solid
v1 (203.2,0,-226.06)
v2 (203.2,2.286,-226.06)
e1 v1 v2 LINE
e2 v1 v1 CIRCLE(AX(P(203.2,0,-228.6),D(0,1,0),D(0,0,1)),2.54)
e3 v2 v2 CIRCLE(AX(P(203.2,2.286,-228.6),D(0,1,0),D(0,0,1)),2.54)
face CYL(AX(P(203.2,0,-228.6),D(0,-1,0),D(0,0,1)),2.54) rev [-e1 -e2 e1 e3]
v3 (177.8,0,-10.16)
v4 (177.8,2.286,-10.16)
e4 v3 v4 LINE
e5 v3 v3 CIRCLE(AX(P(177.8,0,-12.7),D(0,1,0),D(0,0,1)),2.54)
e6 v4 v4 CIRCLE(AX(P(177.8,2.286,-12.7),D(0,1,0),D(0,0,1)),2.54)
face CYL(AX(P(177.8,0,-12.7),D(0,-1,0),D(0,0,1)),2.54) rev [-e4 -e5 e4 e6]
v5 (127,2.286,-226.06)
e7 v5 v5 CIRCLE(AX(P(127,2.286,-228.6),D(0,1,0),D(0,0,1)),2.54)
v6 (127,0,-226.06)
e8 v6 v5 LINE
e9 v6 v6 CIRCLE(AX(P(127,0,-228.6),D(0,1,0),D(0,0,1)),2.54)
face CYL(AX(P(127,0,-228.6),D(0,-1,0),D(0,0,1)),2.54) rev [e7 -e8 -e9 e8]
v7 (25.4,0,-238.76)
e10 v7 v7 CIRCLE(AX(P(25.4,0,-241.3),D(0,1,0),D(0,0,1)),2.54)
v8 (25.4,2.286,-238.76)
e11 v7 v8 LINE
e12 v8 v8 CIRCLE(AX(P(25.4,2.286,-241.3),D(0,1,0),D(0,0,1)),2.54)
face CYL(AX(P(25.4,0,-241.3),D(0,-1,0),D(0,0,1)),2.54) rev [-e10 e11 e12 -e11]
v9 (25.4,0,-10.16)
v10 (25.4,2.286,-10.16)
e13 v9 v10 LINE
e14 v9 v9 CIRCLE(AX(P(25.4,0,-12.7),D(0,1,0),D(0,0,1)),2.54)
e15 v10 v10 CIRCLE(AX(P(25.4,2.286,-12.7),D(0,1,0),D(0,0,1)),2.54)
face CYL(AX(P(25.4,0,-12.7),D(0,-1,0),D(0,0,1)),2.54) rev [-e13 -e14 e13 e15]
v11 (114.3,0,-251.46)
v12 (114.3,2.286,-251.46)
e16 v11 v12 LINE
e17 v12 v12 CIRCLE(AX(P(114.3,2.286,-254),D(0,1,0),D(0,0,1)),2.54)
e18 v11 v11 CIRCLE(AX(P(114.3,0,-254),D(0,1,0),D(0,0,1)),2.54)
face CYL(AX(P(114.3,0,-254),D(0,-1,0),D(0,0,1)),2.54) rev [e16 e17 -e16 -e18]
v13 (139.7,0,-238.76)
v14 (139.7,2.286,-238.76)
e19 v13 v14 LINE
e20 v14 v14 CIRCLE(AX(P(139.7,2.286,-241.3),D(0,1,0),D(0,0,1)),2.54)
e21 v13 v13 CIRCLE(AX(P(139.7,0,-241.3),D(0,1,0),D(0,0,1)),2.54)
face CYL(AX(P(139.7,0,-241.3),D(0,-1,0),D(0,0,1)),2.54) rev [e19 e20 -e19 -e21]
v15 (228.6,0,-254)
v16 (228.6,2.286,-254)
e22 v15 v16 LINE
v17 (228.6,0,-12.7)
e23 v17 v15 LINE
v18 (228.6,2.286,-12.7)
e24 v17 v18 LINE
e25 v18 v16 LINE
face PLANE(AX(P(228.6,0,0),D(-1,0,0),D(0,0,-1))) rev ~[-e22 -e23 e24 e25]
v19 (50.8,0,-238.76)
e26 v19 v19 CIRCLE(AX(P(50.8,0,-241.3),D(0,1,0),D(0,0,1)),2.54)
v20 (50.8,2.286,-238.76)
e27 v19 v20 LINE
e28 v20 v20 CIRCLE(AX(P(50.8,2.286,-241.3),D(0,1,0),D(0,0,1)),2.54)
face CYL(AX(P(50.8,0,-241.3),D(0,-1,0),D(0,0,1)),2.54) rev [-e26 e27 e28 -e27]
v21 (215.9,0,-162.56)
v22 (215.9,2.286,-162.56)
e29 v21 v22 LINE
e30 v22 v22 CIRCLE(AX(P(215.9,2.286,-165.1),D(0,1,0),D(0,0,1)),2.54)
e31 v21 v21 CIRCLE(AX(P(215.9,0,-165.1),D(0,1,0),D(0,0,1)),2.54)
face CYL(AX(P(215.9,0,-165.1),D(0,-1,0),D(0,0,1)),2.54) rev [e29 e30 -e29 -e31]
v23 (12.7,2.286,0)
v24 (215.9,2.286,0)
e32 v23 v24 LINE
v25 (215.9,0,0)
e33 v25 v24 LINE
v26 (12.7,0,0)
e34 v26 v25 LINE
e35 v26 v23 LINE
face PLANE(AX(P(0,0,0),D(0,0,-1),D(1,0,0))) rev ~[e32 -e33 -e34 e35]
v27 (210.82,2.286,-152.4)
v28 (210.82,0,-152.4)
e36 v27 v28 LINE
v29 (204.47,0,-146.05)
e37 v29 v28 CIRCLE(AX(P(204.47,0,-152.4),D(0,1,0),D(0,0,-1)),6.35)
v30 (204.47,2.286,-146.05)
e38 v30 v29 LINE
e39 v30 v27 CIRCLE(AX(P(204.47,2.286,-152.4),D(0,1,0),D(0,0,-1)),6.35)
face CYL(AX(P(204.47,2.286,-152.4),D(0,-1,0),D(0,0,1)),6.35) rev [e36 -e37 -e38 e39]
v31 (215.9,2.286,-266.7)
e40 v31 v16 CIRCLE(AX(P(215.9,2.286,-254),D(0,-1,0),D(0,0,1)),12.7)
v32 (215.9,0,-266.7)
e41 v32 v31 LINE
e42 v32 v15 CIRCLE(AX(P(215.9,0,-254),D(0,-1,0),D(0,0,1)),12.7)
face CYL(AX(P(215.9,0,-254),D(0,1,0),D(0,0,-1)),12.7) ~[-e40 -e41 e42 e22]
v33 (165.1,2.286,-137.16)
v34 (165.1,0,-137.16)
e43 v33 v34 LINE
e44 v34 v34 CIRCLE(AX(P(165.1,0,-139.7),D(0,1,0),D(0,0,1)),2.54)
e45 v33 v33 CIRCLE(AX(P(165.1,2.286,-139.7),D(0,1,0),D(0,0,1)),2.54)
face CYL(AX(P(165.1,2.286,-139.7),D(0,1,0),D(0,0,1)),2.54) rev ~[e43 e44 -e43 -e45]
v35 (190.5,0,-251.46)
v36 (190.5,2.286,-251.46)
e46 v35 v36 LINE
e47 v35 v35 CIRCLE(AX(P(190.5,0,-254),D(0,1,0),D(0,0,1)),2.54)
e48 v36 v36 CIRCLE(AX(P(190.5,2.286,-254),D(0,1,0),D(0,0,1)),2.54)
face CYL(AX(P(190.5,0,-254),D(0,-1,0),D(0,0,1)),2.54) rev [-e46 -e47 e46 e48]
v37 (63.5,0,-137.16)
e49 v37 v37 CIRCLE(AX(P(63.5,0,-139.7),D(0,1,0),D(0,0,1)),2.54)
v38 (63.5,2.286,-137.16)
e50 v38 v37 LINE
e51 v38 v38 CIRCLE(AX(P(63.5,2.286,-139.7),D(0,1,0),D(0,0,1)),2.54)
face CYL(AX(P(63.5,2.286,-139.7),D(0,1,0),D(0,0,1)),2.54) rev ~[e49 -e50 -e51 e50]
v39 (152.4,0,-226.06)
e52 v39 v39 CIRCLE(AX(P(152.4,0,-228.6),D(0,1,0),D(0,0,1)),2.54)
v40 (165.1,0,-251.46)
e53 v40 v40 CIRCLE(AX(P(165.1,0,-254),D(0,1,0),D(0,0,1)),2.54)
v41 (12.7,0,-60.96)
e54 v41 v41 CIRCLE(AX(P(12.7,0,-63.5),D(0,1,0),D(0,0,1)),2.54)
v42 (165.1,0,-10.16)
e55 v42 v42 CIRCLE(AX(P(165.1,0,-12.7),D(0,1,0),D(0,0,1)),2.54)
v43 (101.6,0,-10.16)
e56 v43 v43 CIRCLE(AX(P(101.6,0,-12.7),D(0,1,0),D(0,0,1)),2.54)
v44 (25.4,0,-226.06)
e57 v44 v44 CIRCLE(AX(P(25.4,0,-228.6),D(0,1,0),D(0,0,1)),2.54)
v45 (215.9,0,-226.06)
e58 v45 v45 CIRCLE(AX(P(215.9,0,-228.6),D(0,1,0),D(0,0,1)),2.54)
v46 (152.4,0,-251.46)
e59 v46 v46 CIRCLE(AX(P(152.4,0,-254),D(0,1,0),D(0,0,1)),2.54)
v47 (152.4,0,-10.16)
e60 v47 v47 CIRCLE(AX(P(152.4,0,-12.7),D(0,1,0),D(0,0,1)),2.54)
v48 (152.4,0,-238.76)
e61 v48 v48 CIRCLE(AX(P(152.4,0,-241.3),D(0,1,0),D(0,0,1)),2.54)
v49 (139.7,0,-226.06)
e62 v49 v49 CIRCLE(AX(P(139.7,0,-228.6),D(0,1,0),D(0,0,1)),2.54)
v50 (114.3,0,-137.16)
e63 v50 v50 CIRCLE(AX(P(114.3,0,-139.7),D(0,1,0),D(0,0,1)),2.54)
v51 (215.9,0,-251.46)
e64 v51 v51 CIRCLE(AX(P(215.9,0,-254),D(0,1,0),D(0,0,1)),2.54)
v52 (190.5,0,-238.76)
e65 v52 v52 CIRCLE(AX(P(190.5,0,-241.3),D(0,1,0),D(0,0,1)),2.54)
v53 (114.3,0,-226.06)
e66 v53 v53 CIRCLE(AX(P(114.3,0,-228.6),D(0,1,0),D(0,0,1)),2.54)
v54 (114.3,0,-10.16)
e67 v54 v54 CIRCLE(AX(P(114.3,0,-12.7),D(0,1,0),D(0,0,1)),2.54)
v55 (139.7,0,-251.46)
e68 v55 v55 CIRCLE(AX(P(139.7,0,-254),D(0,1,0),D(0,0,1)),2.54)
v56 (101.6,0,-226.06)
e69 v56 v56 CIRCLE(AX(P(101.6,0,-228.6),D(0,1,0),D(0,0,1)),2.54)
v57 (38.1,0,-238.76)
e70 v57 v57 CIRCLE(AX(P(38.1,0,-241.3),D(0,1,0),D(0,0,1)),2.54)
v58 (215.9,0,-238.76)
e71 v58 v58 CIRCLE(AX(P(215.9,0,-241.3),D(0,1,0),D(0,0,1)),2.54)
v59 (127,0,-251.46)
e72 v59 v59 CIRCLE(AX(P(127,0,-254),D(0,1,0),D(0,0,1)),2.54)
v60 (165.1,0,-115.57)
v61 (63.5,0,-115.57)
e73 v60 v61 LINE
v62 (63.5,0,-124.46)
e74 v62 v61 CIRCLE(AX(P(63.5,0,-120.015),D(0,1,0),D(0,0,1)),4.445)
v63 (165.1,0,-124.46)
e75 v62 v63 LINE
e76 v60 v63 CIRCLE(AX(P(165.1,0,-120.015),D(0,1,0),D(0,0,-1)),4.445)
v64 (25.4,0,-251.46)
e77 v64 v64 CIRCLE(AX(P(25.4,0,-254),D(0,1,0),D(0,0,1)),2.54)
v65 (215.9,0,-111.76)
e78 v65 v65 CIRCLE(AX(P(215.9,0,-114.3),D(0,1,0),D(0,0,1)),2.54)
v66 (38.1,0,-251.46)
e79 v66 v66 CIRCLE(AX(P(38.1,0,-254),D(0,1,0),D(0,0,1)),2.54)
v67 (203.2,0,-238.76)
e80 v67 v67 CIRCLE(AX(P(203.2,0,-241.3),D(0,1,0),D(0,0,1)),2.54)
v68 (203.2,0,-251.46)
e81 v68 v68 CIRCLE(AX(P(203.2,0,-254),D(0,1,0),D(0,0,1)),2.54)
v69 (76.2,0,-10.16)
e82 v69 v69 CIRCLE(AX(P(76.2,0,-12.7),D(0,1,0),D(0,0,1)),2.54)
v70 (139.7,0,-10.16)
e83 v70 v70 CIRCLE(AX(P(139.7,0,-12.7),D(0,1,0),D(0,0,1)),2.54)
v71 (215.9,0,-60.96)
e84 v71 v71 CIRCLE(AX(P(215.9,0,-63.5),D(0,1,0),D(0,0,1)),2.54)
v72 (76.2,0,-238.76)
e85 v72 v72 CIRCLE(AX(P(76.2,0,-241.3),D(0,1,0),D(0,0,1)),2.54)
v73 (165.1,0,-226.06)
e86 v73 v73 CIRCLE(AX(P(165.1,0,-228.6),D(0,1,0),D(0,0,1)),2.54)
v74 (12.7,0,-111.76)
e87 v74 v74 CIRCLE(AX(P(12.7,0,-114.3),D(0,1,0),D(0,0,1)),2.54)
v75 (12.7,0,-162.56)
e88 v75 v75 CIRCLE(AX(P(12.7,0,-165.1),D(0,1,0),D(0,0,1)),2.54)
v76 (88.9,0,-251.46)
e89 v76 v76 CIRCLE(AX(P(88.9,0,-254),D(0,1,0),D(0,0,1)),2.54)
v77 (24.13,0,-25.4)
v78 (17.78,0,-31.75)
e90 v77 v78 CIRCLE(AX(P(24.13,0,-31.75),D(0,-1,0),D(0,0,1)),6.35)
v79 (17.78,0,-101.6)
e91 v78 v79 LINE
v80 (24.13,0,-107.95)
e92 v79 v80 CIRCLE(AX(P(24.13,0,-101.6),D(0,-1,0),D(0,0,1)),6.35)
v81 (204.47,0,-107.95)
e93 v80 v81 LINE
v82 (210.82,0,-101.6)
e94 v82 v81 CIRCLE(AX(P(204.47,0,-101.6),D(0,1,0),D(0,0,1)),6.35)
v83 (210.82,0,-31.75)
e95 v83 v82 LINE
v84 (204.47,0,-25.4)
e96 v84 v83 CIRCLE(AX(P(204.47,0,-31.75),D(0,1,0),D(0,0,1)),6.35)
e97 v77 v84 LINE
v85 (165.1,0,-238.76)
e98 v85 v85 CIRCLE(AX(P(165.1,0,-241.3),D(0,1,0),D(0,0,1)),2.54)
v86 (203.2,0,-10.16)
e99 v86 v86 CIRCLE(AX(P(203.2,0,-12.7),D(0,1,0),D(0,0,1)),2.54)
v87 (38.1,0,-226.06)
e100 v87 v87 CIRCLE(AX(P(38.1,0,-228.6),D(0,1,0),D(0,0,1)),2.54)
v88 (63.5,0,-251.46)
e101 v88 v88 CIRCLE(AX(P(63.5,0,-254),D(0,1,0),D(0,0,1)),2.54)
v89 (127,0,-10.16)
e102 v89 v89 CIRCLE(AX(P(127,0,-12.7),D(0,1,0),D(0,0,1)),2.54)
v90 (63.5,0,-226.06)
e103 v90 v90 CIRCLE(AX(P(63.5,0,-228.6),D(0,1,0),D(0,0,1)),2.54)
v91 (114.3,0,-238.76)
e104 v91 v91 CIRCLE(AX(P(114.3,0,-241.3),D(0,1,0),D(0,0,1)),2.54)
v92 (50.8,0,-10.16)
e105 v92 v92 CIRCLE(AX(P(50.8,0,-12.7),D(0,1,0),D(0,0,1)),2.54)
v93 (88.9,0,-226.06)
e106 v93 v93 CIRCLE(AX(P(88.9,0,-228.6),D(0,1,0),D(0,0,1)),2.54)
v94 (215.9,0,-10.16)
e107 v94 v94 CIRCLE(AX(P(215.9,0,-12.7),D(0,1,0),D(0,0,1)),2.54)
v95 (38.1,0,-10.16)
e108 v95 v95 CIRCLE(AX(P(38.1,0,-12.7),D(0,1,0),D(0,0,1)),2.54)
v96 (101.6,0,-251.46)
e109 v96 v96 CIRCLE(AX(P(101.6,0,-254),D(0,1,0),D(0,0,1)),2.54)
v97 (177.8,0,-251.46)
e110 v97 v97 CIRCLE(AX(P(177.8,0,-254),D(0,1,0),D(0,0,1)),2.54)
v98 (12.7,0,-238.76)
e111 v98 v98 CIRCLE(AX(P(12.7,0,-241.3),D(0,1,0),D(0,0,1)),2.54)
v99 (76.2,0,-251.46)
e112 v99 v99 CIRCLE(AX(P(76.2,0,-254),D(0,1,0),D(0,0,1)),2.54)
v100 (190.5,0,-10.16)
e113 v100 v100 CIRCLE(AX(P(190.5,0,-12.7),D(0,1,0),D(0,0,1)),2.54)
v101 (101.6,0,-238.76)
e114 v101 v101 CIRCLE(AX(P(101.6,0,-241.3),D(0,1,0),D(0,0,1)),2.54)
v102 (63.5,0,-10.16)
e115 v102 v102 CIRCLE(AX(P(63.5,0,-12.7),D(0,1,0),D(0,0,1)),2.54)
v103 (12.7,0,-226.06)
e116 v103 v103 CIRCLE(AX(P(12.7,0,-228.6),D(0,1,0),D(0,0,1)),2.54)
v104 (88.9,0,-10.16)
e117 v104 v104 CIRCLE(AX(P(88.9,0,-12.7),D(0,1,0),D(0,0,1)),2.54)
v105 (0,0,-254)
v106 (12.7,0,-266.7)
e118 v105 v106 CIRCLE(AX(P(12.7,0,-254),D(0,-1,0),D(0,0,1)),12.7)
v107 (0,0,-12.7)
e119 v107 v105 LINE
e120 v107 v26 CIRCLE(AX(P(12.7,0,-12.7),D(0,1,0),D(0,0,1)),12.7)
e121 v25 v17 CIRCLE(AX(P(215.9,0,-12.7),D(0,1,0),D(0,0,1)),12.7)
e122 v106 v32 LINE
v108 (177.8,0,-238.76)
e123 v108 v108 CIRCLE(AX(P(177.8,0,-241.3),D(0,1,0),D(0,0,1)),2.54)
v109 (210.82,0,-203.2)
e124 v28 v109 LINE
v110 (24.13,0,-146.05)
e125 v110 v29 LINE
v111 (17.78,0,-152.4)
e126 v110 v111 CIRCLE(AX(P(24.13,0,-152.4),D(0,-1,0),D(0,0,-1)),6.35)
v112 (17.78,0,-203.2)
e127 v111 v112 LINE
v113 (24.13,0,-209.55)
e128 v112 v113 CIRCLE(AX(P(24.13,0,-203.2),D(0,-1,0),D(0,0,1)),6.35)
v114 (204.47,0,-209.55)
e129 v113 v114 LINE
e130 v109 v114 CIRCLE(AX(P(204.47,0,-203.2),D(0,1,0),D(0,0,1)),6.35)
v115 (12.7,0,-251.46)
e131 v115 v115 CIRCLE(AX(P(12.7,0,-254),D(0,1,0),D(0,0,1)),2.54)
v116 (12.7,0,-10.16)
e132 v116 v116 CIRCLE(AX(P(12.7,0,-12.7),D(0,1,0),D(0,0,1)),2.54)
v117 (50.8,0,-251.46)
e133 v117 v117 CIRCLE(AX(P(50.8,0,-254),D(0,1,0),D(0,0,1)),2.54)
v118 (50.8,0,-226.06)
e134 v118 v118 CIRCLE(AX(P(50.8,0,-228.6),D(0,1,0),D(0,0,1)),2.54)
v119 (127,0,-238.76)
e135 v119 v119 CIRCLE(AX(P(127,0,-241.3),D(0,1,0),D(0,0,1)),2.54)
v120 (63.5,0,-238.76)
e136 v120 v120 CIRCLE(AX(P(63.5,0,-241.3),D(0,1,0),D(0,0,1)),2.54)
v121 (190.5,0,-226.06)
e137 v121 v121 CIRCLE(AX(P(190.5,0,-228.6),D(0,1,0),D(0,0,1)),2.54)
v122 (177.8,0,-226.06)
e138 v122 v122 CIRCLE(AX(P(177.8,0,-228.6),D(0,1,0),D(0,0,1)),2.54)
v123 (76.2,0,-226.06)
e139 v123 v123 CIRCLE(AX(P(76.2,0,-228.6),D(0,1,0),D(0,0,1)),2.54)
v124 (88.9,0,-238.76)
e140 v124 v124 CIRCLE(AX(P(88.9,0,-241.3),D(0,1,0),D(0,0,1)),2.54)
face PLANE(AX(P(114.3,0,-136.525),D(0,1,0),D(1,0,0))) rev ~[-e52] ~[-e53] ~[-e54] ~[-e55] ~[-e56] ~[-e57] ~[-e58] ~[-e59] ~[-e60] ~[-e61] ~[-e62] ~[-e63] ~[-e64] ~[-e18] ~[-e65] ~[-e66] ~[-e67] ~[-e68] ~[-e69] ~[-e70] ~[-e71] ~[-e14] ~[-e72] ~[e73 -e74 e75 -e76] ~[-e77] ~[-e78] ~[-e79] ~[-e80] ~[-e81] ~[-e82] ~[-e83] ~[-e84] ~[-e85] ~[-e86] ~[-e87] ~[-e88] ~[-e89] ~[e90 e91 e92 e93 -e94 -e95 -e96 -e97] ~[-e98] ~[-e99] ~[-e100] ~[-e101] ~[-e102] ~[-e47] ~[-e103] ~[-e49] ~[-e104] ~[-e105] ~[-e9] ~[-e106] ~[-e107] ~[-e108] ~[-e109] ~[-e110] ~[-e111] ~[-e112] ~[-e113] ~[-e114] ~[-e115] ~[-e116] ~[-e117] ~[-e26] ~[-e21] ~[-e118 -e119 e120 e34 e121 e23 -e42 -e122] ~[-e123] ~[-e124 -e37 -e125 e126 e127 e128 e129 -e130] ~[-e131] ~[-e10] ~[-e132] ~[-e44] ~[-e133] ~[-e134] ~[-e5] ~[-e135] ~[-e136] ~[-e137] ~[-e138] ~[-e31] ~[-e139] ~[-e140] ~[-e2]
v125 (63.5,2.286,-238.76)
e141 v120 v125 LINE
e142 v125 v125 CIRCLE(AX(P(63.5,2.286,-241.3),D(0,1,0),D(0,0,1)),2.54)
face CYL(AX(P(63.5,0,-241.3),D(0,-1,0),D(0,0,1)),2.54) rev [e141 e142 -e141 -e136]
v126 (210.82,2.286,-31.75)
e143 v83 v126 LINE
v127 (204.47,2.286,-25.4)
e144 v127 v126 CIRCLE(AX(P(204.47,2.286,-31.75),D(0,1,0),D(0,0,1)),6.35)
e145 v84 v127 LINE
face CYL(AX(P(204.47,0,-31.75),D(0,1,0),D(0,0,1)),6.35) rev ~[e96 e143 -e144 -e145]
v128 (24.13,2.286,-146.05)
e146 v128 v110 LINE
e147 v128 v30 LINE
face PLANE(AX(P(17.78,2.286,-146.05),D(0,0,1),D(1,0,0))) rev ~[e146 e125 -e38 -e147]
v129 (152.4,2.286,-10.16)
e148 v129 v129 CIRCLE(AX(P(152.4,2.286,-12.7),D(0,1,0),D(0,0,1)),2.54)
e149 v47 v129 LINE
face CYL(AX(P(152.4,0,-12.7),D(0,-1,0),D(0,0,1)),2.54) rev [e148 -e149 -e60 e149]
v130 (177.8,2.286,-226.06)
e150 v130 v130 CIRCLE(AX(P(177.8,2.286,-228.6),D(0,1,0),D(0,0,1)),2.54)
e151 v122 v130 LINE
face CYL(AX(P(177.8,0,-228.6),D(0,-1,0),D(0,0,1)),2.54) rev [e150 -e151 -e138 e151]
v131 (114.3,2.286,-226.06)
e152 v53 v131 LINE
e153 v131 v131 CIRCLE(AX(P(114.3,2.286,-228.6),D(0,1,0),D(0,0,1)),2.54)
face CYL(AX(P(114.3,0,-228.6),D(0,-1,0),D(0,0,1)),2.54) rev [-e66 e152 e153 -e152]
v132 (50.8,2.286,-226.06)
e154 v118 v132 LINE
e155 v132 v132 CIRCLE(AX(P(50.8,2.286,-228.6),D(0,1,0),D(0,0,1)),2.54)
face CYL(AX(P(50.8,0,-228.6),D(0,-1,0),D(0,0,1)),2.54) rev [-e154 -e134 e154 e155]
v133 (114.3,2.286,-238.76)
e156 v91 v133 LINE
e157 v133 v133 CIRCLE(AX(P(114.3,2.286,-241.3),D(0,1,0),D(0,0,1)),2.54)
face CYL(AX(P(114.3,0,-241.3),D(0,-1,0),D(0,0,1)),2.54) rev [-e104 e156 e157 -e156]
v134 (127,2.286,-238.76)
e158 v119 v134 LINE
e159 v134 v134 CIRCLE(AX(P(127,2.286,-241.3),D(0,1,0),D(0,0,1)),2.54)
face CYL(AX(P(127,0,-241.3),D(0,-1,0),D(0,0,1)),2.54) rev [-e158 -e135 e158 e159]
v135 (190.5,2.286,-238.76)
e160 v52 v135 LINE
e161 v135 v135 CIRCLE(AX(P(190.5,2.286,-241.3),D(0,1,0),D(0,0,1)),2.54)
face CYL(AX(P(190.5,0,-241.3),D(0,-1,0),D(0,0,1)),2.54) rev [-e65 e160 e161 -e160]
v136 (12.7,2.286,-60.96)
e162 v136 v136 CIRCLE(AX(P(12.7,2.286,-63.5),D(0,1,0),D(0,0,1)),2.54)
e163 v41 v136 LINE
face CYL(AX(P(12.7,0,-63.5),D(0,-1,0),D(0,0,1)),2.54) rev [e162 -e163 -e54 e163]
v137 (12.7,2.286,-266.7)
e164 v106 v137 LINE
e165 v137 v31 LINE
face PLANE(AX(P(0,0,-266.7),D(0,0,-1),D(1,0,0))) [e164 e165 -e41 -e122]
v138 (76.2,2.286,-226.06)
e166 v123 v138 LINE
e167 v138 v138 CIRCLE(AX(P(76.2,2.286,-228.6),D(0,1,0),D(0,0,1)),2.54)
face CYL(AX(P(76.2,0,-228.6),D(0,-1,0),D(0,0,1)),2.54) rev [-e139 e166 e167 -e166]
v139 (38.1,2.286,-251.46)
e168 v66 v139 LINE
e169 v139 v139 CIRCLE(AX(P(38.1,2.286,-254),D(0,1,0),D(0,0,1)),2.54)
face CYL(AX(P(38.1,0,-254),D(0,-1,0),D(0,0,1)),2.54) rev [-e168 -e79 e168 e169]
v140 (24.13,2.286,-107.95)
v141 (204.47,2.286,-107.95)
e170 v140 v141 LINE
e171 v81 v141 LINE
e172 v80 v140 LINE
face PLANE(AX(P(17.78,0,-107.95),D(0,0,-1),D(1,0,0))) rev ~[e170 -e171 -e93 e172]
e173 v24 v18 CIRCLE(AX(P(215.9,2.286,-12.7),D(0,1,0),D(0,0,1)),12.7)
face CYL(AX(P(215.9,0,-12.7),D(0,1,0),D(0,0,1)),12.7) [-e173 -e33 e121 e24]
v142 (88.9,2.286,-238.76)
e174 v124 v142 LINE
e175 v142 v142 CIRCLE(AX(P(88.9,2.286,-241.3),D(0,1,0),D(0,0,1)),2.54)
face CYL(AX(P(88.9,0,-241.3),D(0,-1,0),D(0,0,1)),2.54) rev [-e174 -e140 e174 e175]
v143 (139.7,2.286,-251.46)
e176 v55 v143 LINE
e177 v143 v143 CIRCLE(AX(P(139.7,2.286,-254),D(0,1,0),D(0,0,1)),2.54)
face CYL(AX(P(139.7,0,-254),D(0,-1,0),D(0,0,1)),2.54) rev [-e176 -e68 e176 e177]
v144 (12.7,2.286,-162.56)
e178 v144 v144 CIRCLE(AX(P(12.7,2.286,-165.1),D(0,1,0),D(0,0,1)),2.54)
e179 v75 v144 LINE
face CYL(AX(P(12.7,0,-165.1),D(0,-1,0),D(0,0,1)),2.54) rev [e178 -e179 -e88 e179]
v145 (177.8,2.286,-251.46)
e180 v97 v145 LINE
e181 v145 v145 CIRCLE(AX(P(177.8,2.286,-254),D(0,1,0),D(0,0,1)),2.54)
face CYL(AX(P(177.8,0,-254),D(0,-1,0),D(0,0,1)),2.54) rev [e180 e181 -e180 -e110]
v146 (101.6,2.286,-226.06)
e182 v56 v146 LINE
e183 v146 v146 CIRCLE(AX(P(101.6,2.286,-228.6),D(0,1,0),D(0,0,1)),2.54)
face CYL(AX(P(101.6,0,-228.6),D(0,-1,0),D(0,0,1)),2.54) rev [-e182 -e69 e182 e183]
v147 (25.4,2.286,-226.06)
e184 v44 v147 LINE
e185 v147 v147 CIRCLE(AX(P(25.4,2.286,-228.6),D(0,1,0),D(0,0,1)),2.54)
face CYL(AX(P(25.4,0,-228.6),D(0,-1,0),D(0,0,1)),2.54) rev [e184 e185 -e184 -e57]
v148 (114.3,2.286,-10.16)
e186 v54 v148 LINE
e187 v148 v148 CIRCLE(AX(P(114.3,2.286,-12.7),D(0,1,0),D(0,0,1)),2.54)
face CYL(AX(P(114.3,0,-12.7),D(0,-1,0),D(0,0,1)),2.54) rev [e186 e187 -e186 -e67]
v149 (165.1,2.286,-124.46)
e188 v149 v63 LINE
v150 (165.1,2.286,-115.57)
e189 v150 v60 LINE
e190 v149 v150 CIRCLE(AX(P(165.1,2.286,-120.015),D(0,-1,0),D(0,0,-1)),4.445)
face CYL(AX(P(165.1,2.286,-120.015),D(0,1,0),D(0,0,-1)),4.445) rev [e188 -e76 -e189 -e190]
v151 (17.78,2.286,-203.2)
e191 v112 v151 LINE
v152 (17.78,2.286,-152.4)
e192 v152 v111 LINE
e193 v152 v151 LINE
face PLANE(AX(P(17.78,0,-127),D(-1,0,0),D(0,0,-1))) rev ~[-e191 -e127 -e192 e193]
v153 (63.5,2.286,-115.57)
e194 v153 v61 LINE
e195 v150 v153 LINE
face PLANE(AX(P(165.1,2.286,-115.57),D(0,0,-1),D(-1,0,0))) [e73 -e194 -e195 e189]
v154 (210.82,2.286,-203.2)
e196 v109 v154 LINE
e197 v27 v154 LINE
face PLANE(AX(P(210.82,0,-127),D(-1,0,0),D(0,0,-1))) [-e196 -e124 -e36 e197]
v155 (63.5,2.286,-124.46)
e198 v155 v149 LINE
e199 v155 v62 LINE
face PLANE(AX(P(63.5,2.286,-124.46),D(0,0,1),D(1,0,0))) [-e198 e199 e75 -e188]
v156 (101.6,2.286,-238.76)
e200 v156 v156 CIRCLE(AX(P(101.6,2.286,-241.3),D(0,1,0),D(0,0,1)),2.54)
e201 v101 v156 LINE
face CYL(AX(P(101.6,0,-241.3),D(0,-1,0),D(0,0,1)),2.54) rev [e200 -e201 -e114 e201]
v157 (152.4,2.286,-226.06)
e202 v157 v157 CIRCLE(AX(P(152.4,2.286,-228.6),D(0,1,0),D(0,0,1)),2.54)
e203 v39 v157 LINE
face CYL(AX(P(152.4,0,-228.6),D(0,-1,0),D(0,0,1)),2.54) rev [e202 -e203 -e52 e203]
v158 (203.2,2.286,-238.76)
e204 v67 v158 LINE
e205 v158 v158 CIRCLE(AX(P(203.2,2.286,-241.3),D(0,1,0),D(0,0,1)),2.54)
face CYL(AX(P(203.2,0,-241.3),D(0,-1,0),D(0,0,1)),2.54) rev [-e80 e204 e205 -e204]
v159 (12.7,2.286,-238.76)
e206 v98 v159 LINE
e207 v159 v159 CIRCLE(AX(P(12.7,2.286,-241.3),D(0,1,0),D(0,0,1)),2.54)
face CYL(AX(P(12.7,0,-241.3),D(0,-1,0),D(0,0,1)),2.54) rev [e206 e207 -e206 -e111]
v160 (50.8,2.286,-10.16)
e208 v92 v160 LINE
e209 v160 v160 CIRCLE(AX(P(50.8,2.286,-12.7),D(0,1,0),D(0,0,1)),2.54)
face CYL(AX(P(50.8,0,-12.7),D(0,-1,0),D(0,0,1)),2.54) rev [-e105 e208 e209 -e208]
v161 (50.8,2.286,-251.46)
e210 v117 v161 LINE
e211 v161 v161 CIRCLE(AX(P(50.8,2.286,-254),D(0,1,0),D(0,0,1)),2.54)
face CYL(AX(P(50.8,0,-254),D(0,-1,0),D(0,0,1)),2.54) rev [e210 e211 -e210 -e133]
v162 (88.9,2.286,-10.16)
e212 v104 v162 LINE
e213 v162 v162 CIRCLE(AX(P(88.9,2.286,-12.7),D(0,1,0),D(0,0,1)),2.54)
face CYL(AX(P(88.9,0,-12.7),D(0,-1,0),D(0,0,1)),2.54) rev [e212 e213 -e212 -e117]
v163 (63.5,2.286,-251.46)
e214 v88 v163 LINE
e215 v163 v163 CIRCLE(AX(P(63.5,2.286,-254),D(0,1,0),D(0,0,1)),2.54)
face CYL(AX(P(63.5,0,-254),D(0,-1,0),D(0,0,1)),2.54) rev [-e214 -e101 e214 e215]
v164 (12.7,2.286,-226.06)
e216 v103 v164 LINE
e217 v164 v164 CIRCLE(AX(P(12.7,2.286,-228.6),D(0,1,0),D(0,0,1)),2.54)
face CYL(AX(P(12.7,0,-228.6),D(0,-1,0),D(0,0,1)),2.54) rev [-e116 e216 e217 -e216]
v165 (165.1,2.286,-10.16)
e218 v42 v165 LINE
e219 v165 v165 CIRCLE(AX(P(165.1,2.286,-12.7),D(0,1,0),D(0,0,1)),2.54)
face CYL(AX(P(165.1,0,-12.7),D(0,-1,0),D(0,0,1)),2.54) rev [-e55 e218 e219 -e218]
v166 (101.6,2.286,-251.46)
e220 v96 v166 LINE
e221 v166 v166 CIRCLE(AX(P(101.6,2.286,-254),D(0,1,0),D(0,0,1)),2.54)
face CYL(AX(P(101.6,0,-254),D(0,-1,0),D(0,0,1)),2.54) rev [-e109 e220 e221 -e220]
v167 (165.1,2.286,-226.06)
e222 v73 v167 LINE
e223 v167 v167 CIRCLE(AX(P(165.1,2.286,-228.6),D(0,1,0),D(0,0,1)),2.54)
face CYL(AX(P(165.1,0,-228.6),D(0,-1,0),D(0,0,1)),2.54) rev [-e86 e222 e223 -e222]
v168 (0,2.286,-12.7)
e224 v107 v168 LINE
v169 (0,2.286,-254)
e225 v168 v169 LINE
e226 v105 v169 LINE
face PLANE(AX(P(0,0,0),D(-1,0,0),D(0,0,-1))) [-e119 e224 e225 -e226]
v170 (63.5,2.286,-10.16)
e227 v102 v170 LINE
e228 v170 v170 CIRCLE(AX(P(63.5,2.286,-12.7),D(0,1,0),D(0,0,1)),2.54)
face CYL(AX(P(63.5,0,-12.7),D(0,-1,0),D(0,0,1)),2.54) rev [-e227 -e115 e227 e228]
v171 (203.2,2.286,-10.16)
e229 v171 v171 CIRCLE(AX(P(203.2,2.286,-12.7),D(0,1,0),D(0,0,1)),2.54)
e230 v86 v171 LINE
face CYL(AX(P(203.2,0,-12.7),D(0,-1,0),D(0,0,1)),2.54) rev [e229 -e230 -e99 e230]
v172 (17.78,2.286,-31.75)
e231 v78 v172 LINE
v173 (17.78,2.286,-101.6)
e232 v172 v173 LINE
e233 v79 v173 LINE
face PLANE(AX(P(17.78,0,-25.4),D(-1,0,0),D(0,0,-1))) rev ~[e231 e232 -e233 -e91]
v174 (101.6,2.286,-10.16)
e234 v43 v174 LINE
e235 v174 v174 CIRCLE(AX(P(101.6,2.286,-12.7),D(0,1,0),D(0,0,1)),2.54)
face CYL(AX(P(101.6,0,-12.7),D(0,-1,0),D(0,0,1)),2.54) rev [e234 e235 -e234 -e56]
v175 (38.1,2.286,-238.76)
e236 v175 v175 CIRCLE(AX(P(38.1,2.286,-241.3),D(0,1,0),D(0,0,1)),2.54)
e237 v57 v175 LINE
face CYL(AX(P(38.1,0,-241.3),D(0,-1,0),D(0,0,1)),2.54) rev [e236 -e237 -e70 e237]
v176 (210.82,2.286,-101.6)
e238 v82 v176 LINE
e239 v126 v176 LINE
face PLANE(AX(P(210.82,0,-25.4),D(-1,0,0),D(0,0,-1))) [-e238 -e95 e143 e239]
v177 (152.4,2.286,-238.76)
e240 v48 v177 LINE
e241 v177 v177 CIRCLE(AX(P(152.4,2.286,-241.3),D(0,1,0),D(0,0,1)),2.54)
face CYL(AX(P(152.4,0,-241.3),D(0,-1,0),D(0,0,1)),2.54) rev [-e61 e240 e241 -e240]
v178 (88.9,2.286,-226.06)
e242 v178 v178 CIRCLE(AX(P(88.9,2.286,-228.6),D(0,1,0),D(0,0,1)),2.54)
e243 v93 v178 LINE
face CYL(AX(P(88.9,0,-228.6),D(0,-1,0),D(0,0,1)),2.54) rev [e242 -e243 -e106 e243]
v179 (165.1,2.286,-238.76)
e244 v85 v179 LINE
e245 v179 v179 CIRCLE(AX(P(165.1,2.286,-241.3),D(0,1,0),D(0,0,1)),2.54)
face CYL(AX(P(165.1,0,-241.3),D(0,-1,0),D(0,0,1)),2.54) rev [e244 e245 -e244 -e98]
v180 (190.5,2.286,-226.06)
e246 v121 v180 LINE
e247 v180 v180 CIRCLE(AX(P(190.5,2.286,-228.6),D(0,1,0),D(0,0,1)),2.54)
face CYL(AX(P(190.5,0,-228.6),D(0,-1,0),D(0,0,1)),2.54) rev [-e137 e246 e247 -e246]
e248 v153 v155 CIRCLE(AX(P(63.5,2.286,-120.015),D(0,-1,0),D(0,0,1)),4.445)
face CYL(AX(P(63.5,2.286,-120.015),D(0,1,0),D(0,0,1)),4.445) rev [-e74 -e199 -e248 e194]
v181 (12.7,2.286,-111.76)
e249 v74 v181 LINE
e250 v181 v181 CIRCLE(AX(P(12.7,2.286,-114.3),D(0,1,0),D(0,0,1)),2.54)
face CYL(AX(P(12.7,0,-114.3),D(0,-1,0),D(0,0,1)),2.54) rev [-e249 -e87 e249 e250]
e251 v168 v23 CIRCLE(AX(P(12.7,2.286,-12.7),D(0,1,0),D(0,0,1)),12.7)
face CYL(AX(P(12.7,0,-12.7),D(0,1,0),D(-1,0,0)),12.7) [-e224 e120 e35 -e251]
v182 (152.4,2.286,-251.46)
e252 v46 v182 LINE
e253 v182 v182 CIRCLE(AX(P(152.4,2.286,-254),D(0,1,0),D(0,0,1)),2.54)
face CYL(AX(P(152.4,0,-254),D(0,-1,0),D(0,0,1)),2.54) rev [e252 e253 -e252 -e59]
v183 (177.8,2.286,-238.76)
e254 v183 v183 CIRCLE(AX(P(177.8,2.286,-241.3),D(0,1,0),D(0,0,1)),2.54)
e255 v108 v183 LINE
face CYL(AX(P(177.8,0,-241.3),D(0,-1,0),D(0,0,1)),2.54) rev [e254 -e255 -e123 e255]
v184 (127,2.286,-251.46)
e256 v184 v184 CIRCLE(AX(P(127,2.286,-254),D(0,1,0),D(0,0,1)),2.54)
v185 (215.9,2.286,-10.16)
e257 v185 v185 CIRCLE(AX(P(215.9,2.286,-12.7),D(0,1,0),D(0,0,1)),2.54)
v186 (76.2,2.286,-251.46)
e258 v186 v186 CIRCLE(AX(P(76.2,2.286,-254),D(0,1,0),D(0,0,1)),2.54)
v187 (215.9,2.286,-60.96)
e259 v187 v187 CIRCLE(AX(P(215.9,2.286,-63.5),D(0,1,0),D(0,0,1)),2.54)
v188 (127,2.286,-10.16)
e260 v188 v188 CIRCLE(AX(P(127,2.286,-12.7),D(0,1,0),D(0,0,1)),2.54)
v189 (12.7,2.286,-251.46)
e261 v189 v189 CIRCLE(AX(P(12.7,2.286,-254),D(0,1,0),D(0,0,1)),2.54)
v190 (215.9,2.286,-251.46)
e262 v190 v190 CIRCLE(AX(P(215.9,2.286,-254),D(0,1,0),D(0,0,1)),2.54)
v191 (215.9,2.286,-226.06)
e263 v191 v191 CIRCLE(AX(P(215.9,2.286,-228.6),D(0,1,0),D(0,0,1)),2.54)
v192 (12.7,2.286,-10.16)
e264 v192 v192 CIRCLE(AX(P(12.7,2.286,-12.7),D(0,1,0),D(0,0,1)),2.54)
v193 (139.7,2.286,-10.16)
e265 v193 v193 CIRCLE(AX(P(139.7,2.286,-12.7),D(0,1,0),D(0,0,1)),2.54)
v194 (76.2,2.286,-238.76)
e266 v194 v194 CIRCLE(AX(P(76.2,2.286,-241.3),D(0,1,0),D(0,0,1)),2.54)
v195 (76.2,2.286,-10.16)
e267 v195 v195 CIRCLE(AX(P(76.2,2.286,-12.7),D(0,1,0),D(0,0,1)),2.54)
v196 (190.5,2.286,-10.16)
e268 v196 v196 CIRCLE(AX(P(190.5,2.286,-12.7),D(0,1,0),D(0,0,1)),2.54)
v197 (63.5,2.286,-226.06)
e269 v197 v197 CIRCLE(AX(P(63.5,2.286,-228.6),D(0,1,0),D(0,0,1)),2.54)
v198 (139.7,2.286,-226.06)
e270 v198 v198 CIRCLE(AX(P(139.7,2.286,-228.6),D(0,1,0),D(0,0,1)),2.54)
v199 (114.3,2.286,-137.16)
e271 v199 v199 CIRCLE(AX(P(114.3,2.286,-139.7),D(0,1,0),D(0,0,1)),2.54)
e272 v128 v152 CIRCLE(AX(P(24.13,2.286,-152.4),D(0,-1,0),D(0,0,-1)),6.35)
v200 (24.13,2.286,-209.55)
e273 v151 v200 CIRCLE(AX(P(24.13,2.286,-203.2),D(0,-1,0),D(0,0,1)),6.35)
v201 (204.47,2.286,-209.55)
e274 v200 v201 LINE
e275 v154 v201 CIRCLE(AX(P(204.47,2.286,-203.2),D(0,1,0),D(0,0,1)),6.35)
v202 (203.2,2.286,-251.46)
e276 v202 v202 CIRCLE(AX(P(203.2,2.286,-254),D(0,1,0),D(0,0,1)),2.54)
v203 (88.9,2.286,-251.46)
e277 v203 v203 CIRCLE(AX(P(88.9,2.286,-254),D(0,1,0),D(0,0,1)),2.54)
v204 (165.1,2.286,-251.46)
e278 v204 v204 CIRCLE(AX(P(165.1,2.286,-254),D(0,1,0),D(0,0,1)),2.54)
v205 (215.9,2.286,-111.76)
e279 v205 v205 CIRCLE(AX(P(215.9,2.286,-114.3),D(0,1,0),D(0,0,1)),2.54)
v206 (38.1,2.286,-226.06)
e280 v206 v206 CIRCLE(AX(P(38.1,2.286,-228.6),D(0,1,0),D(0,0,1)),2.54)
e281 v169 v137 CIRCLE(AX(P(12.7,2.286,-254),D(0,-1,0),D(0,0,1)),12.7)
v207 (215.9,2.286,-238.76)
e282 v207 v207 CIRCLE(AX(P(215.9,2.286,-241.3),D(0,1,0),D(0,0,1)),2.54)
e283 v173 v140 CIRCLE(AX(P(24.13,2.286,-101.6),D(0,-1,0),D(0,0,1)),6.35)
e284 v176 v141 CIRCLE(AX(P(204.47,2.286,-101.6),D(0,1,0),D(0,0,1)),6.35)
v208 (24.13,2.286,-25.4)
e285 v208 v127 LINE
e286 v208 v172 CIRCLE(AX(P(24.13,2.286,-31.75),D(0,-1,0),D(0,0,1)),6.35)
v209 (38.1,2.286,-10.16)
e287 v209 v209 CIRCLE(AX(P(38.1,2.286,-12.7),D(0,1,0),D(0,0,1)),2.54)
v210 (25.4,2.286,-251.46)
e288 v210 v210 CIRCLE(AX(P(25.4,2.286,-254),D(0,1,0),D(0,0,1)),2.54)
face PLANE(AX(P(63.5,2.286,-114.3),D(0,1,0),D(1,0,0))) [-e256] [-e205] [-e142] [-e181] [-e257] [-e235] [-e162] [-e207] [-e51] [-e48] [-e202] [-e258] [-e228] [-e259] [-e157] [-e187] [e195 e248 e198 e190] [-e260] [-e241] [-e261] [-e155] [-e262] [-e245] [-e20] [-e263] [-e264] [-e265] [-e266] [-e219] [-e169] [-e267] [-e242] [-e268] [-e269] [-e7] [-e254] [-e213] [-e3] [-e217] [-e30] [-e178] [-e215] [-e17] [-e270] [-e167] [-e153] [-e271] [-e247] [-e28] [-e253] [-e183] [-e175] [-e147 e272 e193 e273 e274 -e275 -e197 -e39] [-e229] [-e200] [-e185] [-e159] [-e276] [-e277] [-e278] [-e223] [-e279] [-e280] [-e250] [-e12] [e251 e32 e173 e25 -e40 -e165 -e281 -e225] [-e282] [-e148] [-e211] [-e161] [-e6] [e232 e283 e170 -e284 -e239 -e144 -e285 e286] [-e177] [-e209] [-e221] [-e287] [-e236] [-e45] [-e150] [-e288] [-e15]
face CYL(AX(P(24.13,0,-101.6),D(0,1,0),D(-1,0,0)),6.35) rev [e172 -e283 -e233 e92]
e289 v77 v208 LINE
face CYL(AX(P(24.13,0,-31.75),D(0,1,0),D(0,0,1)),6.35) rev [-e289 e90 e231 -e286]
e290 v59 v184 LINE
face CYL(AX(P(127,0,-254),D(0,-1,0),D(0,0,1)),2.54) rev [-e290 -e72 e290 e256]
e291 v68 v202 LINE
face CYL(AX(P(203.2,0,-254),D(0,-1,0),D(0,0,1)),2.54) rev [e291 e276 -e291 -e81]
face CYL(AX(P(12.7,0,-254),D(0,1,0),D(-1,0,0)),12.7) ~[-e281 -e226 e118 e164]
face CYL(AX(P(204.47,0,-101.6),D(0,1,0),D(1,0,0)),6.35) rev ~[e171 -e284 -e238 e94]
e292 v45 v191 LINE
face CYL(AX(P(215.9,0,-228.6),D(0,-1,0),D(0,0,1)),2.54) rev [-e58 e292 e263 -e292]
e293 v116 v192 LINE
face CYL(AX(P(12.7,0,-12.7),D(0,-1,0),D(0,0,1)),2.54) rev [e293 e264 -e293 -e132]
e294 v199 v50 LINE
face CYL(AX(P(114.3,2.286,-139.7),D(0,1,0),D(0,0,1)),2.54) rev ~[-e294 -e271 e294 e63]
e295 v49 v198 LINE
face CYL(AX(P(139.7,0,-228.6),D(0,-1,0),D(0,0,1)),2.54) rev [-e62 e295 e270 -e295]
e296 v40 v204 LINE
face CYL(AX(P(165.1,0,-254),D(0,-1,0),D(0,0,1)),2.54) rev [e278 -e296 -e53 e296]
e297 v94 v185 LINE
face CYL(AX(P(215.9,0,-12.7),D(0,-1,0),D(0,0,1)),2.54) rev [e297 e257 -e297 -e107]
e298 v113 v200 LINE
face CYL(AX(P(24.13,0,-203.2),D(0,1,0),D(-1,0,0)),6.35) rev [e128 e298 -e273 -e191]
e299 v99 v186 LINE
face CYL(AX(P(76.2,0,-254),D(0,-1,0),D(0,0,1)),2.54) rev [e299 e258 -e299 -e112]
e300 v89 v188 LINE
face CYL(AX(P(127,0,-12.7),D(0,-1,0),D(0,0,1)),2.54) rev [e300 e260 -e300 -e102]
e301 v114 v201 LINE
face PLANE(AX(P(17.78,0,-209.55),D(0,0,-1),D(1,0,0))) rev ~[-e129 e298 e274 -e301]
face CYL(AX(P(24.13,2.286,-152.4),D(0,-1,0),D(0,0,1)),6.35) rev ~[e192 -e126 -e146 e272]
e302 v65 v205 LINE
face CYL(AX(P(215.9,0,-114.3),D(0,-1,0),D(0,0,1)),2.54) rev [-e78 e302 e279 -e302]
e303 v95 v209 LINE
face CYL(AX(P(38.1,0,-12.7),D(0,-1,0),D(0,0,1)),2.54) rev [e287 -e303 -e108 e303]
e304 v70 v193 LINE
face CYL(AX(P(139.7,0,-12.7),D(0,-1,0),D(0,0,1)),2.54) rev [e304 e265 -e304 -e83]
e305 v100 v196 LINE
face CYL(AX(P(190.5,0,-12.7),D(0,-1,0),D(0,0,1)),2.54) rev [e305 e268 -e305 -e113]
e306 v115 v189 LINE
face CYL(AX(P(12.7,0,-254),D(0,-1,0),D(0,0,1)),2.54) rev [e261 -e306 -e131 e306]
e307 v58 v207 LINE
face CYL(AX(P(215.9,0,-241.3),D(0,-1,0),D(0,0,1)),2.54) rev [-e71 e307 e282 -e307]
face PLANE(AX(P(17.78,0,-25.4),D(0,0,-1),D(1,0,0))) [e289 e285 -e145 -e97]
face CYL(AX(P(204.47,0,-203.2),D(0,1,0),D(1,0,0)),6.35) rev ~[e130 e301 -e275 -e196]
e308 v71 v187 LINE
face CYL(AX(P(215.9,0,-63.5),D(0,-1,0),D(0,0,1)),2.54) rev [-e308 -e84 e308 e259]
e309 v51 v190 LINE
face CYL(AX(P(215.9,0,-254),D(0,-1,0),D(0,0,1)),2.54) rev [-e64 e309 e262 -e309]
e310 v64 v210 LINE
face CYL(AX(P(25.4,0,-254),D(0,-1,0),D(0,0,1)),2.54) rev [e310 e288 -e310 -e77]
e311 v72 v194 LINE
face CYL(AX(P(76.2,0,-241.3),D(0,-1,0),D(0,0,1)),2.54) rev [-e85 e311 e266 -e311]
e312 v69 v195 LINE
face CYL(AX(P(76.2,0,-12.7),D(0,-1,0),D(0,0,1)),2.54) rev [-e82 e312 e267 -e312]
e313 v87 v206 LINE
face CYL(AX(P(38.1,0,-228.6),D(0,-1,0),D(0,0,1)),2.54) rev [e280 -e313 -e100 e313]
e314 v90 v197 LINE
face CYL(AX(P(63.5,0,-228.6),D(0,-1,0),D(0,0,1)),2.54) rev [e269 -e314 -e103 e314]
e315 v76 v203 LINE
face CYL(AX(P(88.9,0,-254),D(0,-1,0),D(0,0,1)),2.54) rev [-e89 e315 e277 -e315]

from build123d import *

# Parameters (mm, degrees)
SKETCH3_W           = 228.6
SKETCH3_H           = 266.7
SKETCH3_R           = 2.54
SKETCH3_W_2         = 193.04
SKETCH3_H_2         = 82.55
BOSS_EXTRUDE3_DEPTH = 2.286
SKETCH6_W           = 193.04
SKETCH6_H           = 19.05
BOSS_EXTRUDE4_DEPTH = 2.286
SKETCH8_R           = 2.54
BOSS_EXTRUDE5_DEPTH = 2.286
SKETCH9_R           = 2.54
CUT_EXTRUDE2_DEPTH  = 352.272082289
FILLET5_R           = 12.7
FILLET6_R           = 6.35


with BuildPart() as part:
    # Sketch3 → Boss-Extrude3 (new body)
    with BuildSketch(Plane(origin=(0, 0, 0), x_dir=(1, 0, 0), z_dir=(0, 1, 0))):
        with Locations((114.3, 133.35)):
            Rectangle(SKETCH3_W, SKETCH3_H)
        with Locations(Location((12.7, 254, 0), (0, 0, 270))):
            Circle(SKETCH3_R, mode=Mode.SUBTRACT)
        with Locations(Location((25.4, 254, 0), (0, 0, 270))):
            Circle(SKETCH3_R, mode=Mode.SUBTRACT)
        with Locations(Location((38.1, 254, 0), (0, 0, 270))):
            Circle(SKETCH3_R, mode=Mode.SUBTRACT)
        with Locations(Location((50.8, 254, 0), (0, 0, 270))):
            Circle(SKETCH3_R, mode=Mode.SUBTRACT)
        with Locations(Location((63.5, 254, 0), (0, 0, 270))):
            Circle(SKETCH3_R, mode=Mode.SUBTRACT)
        with Locations(Location((76.2, 254, 0), (0, 0, 270))):
            Circle(SKETCH3_R, mode=Mode.SUBTRACT)
        with Locations(Location((88.9, 254, 0), (0, 0, 270))):
            Circle(SKETCH3_R, mode=Mode.SUBTRACT)
        with Locations(Location((101.6, 254, 0), (0, 0, 270))):
            Circle(SKETCH3_R, mode=Mode.SUBTRACT)
        with Locations(Location((114.3, 254, 0), (0, 0, 270))):
            Circle(SKETCH3_R, mode=Mode.SUBTRACT)
        with Locations(Location((127, 254, 0), (0, 0, 270))):
            Circle(SKETCH3_R, mode=Mode.SUBTRACT)
        with Locations(Location((139.7, 254, 0), (0, 0, 270))):
            Circle(SKETCH3_R, mode=Mode.SUBTRACT)
        with Locations(Location((152.4, 254, 0), (0, 0, 270))):
            Circle(SKETCH3_R, mode=Mode.SUBTRACT)
        with Locations(Location((165.1, 254, 0), (0, 0, 270))):
            Circle(SKETCH3_R, mode=Mode.SUBTRACT)
        with Locations(Location((177.8, 254, 0), (0, 0, 270))):
            Circle(SKETCH3_R, mode=Mode.SUBTRACT)
        with Locations(Location((190.5, 254, 0), (0, 0, 270))):
            Circle(SKETCH3_R, mode=Mode.SUBTRACT)
        with Locations(Location((203.2, 254, 0), (0, 0, 270))):
            Circle(SKETCH3_R, mode=Mode.SUBTRACT)
        with Locations(Location((215.9, 254, 0), (0, 0, 270))):
            Circle(SKETCH3_R, mode=Mode.SUBTRACT)
        with Locations(Location((25.4, 241.3, 0), (0, 0, 270))):
            Circle(SKETCH3_R, mode=Mode.SUBTRACT)
        with Locations(Location((38.1, 241.3, 0), (0, 0, 270))):
            Circle(SKETCH3_R, mode=Mode.SUBTRACT)
        with Locations(Location((50.8, 241.3, 0), (0, 0, 270))):
            Circle(SKETCH3_R, mode=Mode.SUBTRACT)
        with Locations(Location((63.5, 241.3, 0), (0, 0, 270))):
            Circle(SKETCH3_R, mode=Mode.SUBTRACT)
        with Locations(Location((76.2, 241.3, 0), (0, 0, 270))):
            Circle(SKETCH3_R, mode=Mode.SUBTRACT)
        with Locations(Location((88.9, 241.3, 0), (0, 0, 270))):
            Circle(SKETCH3_R, mode=Mode.SUBTRACT)
        with Locations(Location((101.6, 241.3, 0), (0, 0, 270))):
            Circle(SKETCH3_R, mode=Mode.SUBTRACT)
        with Locations(Location((114.3, 241.3, 0), (0, 0, 270))):
            Circle(SKETCH3_R, mode=Mode.SUBTRACT)
        with Locations(Location((127, 241.3, 0), (0, 0, 270))):
            Circle(SKETCH3_R, mode=Mode.SUBTRACT)
        with Locations(Location((139.7, 241.3, 0), (0, 0, 270))):
            Circle(SKETCH3_R, mode=Mode.SUBTRACT)
        with Locations(Location((152.4, 241.3, 0), (0, 0, 270))):
            Circle(SKETCH3_R, mode=Mode.SUBTRACT)
        with Locations(Location((165.1, 241.3, 0), (0, 0, 270))):
            Circle(SKETCH3_R, mode=Mode.SUBTRACT)
        with Locations(Location((177.8, 241.3, 0), (0, 0, 270))):
            Circle(SKETCH3_R, mode=Mode.SUBTRACT)
        with Locations(Location((190.5, 241.3, 0), (0, 0, 270))):
            Circle(SKETCH3_R, mode=Mode.SUBTRACT)
        with Locations(Location((203.2, 241.3, 0), (0, 0, 270))):
            Circle(SKETCH3_R, mode=Mode.SUBTRACT)
        with Locations(Location((215.9, 241.3, 0), (0, 0, 270))):
            Circle(SKETCH3_R, mode=Mode.SUBTRACT)
        with Locations(Location((25.4, 228.6, 0), (0, 0, 270))):
            Circle(SKETCH3_R, mode=Mode.SUBTRACT)
        with Locations(Location((38.1, 228.6, 0), (0, 0, 270))):
            Circle(SKETCH3_R, mode=Mode.SUBTRACT)
        with Locations(Location((50.8, 228.6, 0), (0, 0, 270))):
            Circle(SKETCH3_R, mode=Mode.SUBTRACT)
        with Locations(Location((63.5, 228.6, 0), (0, 0, 270))):
            Circle(SKETCH3_R, mode=Mode.SUBTRACT)
        with Locations(Location((76.2, 228.6, 0), (0, 0, 270))):
            Circle(SKETCH3_R, mode=Mode.SUBTRACT)
        with Locations(Location((88.9, 228.6, 0), (0, 0, 270))):
            Circle(SKETCH3_R, mode=Mode.SUBTRACT)
        with Locations(Location((101.6, 228.6, 0), (0, 0, 270))):
            Circle(SKETCH3_R, mode=Mode.SUBTRACT)
        with Locations(Location((114.3, 228.6, 0), (0, 0, 270))):
            Circle(SKETCH3_R, mode=Mode.SUBTRACT)
        with Locations(Location((127, 228.6, 0), (0, 0, 270))):
            Circle(SKETCH3_R, mode=Mode.SUBTRACT)
        with Locations(Location((139.7, 228.6, 0), (0, 0, 270))):
            Circle(SKETCH3_R, mode=Mode.SUBTRACT)
        with Locations(Location((152.4, 228.6, 0), (0, 0, 270))):
            Circle(SKETCH3_R, mode=Mode.SUBTRACT)
        with Locations(Location((165.1, 228.6, 0), (0, 0, 270))):
            Circle(SKETCH3_R, mode=Mode.SUBTRACT)
        with Locations(Location((177.8, 228.6, 0), (0, 0, 270))):
            Circle(SKETCH3_R, mode=Mode.SUBTRACT)
        with Locations(Location((190.5, 228.6, 0), (0, 0, 270))):
            Circle(SKETCH3_R, mode=Mode.SUBTRACT)
        with Locations(Location((203.2, 228.6, 0), (0, 0, 270))):
            Circle(SKETCH3_R, mode=Mode.SUBTRACT)
        with Locations(Location((215.9, 228.6, 0), (0, 0, 270))):
            Circle(SKETCH3_R, mode=Mode.SUBTRACT)
        with Locations(Location((12.7, 241.3, 0), (0, 0, 270))):
            Circle(SKETCH3_R, mode=Mode.SUBTRACT)
        with Locations(Location((12.7, 228.6, 0), (0, 0, 270))):
            Circle(SKETCH3_R, mode=Mode.SUBTRACT)
        with Locations(Location((12.7, 12.7, 0), (0, 0, 270))):
            Circle(SKETCH3_R, mode=Mode.SUBTRACT)
        with Locations(Location((25.4, 12.7, 0), (0, 0, 270))):
            Circle(SKETCH3_R, mode=Mode.SUBTRACT)
        with Locations(Location((38.1, 12.7, 0), (0, 0, 270))):
            Circle(SKETCH3_R, mode=Mode.SUBTRACT)
        with Locations(Location((50.8, 12.7, 0), (0, 0, 270))):
            Circle(SKETCH3_R, mode=Mode.SUBTRACT)
        with Locations(Location((63.5, 12.7, 0), (0, 0, 270))):
            Circle(SKETCH3_R, mode=Mode.SUBTRACT)
        with Locations(Location((76.2, 12.7, 0), (0, 0, 270))):
            Circle(SKETCH3_R, mode=Mode.SUBTRACT)
        with Locations(Location((88.9, 12.7, 0), (0, 0, 270))):
            Circle(SKETCH3_R, mode=Mode.SUBTRACT)
        with Locations(Location((101.6, 12.7, 0), (0, 0, 270))):
            Circle(SKETCH3_R, mode=Mode.SUBTRACT)
        with Locations(Location((114.3, 12.7, 0), (0, 0, 270))):
            Circle(SKETCH3_R, mode=Mode.SUBTRACT)
        with Locations(Location((127, 12.7, 0), (0, 0, 270))):
            Circle(SKETCH3_R, mode=Mode.SUBTRACT)
        with Locations(Location((139.7, 12.7, 0), (0, 0, 270))):
            Circle(SKETCH3_R, mode=Mode.SUBTRACT)
        with Locations(Location((152.4, 12.7, 0), (0, 0, 270))):
            Circle(SKETCH3_R, mode=Mode.SUBTRACT)
        with Locations(Location((165.1, 12.7, 0), (0, 0, 270))):
            Circle(SKETCH3_R, mode=Mode.SUBTRACT)
        with Locations(Location((177.8, 12.7, 0), (0, 0, 270))):
            Circle(SKETCH3_R, mode=Mode.SUBTRACT)
        with Locations(Location((190.5, 12.7, 0), (0, 0, 270))):
            Circle(SKETCH3_R, mode=Mode.SUBTRACT)
        with Locations(Location((203.2, 12.7, 0), (0, 0, 270))):
            Circle(SKETCH3_R, mode=Mode.SUBTRACT)
        with Locations(Location((215.9, 12.7, 0), (0, 0, 270))):
            Circle(SKETCH3_R, mode=Mode.SUBTRACT)
        with Locations(Location((12.7, 114.3, 0), (0, 0, 270))):
            Circle(SKETCH3_R, mode=Mode.SUBTRACT)
        with Locations(Location((63.5, 114.3, 0), (0, 0, 270))):
            Circle(SKETCH3_R, mode=Mode.SUBTRACT)
        with Locations(Location((114.3, 114.3, 0), (0, 0, 270))):
            Circle(SKETCH3_R, mode=Mode.SUBTRACT)
        with Locations(Location((165.1, 114.3, 0), (0, 0, 270))):
            Circle(SKETCH3_R, mode=Mode.SUBTRACT)
        with Locations(Location((215.9, 114.3, 0), (0, 0, 270))):
            Circle(SKETCH3_R, mode=Mode.SUBTRACT)
        with Locations(Location((12.7, 165.1, 0), (0, 0, 270))):
            Circle(SKETCH3_R, mode=Mode.SUBTRACT)
        with Locations(Location((215.9, 165.1, 0), (0, 0, 270))):
            Circle(SKETCH3_R, mode=Mode.SUBTRACT)
        with Locations(Location((12.7, 63.5, 0), (0, 0, 270))):
            Circle(SKETCH3_R, mode=Mode.SUBTRACT)
        with Locations(Location((215.9, 63.5, 0), (0, 0, 270))):
            Circle(SKETCH3_R, mode=Mode.SUBTRACT)
        with Locations((114.3, 66.675)):
            Rectangle(SKETCH3_W_2, SKETCH3_H_2, mode=Mode.SUBTRACT)
        with Locations((114.3, 168.275)):
            Rectangle(SKETCH3_W_2, SKETCH3_H_2, mode=Mode.SUBTRACT)
    extrude(amount=BOSS_EXTRUDE3_DEPTH)

    # Sketch6 → Boss-Extrude4 (add)
    with BuildSketch(Plane(origin=(0, 2.286, 0), x_dir=(1, 0, 0), z_dir=(0, 1, 0))):
        with Locations((114.3, 136.525)):
            Rectangle(SKETCH6_W, SKETCH6_H)
    extrude(amount=-BOSS_EXTRUDE4_DEPTH)

    # Sketch8 → Boss-Extrude5 (add, through all)
    with BuildSketch(Plane(origin=(0, 2.286, 0), x_dir=(1, 0, 0), z_dir=(0, 1, 0))):
        with Locations((63.5, 114.3)):
            Circle(SKETCH8_R)
        with Locations((114.3, 114.3)):
            Circle(SKETCH8_R)
        with Locations((165.1, 114.3)):
            Circle(SKETCH8_R)
    extrude(amount=-BOSS_EXTRUDE5_DEPTH)

    # Sketch9 → Cut-Extrude2 (cut, through all)
    with BuildSketch(Plane(origin=(0, 2.286, 0), x_dir=(1, 0, 0), z_dir=(0, 1, 0))):
        with Locations(Location((165.1, 139.7, 0), (0, 0, 270))):
            Circle(SKETCH9_R)
        with Locations(Location((114.3, 139.7, 0), (0, 0, 270))):
            Circle(SKETCH9_R)
        with Locations(Location((63.5, 139.7, 0), (0, 0, 270))):
            Circle(SKETCH9_R)
        with BuildLine():
            Line((165.1, 115.57), (63.5, 115.57))
            ThreePointArc((63.5, 115.57), (59.055, 120.015), (63.5, 124.46))
            Line((63.5, 124.46), (165.1, 124.46))
            ThreePointArc((165.1, 124.46), (169.545, 120.015), (165.1, 115.57))
        make_face()
    extrude(amount=-CUT_EXTRUDE2_DEPTH, mode=Mode.SUBTRACT)

    # Fillet5
    fillet5_edges = [part.edges().sort_by_distance(p)[0] for p in [
        (0, 1.143, -266.7),
        (228.6, 1.143, -266.7),
        (228.6, 1.143, 0),
        (0, 1.143, 0),
    ]]
    fillet(fillet5_edges, radius=FILLET5_R)

    # Fillet6
    fillet6_edges = [part.edges().sort_by_distance(p)[0] for p in [
        (210.82, 1.143, -107.95),
        (17.78, 1.143, -107.95),
        (17.78, 1.143, -25.4),
        (210.82, 1.143, -25.4),
        (17.78, 1.143, -209.55),
        (210.82, 1.143, -209.55),
        (17.78, 1.143, -146.05),
        (210.82, 1.143, -146.05),
    ]]
    fillet(fillet6_edges, radius=FILLET6_R)


solid = part.part
